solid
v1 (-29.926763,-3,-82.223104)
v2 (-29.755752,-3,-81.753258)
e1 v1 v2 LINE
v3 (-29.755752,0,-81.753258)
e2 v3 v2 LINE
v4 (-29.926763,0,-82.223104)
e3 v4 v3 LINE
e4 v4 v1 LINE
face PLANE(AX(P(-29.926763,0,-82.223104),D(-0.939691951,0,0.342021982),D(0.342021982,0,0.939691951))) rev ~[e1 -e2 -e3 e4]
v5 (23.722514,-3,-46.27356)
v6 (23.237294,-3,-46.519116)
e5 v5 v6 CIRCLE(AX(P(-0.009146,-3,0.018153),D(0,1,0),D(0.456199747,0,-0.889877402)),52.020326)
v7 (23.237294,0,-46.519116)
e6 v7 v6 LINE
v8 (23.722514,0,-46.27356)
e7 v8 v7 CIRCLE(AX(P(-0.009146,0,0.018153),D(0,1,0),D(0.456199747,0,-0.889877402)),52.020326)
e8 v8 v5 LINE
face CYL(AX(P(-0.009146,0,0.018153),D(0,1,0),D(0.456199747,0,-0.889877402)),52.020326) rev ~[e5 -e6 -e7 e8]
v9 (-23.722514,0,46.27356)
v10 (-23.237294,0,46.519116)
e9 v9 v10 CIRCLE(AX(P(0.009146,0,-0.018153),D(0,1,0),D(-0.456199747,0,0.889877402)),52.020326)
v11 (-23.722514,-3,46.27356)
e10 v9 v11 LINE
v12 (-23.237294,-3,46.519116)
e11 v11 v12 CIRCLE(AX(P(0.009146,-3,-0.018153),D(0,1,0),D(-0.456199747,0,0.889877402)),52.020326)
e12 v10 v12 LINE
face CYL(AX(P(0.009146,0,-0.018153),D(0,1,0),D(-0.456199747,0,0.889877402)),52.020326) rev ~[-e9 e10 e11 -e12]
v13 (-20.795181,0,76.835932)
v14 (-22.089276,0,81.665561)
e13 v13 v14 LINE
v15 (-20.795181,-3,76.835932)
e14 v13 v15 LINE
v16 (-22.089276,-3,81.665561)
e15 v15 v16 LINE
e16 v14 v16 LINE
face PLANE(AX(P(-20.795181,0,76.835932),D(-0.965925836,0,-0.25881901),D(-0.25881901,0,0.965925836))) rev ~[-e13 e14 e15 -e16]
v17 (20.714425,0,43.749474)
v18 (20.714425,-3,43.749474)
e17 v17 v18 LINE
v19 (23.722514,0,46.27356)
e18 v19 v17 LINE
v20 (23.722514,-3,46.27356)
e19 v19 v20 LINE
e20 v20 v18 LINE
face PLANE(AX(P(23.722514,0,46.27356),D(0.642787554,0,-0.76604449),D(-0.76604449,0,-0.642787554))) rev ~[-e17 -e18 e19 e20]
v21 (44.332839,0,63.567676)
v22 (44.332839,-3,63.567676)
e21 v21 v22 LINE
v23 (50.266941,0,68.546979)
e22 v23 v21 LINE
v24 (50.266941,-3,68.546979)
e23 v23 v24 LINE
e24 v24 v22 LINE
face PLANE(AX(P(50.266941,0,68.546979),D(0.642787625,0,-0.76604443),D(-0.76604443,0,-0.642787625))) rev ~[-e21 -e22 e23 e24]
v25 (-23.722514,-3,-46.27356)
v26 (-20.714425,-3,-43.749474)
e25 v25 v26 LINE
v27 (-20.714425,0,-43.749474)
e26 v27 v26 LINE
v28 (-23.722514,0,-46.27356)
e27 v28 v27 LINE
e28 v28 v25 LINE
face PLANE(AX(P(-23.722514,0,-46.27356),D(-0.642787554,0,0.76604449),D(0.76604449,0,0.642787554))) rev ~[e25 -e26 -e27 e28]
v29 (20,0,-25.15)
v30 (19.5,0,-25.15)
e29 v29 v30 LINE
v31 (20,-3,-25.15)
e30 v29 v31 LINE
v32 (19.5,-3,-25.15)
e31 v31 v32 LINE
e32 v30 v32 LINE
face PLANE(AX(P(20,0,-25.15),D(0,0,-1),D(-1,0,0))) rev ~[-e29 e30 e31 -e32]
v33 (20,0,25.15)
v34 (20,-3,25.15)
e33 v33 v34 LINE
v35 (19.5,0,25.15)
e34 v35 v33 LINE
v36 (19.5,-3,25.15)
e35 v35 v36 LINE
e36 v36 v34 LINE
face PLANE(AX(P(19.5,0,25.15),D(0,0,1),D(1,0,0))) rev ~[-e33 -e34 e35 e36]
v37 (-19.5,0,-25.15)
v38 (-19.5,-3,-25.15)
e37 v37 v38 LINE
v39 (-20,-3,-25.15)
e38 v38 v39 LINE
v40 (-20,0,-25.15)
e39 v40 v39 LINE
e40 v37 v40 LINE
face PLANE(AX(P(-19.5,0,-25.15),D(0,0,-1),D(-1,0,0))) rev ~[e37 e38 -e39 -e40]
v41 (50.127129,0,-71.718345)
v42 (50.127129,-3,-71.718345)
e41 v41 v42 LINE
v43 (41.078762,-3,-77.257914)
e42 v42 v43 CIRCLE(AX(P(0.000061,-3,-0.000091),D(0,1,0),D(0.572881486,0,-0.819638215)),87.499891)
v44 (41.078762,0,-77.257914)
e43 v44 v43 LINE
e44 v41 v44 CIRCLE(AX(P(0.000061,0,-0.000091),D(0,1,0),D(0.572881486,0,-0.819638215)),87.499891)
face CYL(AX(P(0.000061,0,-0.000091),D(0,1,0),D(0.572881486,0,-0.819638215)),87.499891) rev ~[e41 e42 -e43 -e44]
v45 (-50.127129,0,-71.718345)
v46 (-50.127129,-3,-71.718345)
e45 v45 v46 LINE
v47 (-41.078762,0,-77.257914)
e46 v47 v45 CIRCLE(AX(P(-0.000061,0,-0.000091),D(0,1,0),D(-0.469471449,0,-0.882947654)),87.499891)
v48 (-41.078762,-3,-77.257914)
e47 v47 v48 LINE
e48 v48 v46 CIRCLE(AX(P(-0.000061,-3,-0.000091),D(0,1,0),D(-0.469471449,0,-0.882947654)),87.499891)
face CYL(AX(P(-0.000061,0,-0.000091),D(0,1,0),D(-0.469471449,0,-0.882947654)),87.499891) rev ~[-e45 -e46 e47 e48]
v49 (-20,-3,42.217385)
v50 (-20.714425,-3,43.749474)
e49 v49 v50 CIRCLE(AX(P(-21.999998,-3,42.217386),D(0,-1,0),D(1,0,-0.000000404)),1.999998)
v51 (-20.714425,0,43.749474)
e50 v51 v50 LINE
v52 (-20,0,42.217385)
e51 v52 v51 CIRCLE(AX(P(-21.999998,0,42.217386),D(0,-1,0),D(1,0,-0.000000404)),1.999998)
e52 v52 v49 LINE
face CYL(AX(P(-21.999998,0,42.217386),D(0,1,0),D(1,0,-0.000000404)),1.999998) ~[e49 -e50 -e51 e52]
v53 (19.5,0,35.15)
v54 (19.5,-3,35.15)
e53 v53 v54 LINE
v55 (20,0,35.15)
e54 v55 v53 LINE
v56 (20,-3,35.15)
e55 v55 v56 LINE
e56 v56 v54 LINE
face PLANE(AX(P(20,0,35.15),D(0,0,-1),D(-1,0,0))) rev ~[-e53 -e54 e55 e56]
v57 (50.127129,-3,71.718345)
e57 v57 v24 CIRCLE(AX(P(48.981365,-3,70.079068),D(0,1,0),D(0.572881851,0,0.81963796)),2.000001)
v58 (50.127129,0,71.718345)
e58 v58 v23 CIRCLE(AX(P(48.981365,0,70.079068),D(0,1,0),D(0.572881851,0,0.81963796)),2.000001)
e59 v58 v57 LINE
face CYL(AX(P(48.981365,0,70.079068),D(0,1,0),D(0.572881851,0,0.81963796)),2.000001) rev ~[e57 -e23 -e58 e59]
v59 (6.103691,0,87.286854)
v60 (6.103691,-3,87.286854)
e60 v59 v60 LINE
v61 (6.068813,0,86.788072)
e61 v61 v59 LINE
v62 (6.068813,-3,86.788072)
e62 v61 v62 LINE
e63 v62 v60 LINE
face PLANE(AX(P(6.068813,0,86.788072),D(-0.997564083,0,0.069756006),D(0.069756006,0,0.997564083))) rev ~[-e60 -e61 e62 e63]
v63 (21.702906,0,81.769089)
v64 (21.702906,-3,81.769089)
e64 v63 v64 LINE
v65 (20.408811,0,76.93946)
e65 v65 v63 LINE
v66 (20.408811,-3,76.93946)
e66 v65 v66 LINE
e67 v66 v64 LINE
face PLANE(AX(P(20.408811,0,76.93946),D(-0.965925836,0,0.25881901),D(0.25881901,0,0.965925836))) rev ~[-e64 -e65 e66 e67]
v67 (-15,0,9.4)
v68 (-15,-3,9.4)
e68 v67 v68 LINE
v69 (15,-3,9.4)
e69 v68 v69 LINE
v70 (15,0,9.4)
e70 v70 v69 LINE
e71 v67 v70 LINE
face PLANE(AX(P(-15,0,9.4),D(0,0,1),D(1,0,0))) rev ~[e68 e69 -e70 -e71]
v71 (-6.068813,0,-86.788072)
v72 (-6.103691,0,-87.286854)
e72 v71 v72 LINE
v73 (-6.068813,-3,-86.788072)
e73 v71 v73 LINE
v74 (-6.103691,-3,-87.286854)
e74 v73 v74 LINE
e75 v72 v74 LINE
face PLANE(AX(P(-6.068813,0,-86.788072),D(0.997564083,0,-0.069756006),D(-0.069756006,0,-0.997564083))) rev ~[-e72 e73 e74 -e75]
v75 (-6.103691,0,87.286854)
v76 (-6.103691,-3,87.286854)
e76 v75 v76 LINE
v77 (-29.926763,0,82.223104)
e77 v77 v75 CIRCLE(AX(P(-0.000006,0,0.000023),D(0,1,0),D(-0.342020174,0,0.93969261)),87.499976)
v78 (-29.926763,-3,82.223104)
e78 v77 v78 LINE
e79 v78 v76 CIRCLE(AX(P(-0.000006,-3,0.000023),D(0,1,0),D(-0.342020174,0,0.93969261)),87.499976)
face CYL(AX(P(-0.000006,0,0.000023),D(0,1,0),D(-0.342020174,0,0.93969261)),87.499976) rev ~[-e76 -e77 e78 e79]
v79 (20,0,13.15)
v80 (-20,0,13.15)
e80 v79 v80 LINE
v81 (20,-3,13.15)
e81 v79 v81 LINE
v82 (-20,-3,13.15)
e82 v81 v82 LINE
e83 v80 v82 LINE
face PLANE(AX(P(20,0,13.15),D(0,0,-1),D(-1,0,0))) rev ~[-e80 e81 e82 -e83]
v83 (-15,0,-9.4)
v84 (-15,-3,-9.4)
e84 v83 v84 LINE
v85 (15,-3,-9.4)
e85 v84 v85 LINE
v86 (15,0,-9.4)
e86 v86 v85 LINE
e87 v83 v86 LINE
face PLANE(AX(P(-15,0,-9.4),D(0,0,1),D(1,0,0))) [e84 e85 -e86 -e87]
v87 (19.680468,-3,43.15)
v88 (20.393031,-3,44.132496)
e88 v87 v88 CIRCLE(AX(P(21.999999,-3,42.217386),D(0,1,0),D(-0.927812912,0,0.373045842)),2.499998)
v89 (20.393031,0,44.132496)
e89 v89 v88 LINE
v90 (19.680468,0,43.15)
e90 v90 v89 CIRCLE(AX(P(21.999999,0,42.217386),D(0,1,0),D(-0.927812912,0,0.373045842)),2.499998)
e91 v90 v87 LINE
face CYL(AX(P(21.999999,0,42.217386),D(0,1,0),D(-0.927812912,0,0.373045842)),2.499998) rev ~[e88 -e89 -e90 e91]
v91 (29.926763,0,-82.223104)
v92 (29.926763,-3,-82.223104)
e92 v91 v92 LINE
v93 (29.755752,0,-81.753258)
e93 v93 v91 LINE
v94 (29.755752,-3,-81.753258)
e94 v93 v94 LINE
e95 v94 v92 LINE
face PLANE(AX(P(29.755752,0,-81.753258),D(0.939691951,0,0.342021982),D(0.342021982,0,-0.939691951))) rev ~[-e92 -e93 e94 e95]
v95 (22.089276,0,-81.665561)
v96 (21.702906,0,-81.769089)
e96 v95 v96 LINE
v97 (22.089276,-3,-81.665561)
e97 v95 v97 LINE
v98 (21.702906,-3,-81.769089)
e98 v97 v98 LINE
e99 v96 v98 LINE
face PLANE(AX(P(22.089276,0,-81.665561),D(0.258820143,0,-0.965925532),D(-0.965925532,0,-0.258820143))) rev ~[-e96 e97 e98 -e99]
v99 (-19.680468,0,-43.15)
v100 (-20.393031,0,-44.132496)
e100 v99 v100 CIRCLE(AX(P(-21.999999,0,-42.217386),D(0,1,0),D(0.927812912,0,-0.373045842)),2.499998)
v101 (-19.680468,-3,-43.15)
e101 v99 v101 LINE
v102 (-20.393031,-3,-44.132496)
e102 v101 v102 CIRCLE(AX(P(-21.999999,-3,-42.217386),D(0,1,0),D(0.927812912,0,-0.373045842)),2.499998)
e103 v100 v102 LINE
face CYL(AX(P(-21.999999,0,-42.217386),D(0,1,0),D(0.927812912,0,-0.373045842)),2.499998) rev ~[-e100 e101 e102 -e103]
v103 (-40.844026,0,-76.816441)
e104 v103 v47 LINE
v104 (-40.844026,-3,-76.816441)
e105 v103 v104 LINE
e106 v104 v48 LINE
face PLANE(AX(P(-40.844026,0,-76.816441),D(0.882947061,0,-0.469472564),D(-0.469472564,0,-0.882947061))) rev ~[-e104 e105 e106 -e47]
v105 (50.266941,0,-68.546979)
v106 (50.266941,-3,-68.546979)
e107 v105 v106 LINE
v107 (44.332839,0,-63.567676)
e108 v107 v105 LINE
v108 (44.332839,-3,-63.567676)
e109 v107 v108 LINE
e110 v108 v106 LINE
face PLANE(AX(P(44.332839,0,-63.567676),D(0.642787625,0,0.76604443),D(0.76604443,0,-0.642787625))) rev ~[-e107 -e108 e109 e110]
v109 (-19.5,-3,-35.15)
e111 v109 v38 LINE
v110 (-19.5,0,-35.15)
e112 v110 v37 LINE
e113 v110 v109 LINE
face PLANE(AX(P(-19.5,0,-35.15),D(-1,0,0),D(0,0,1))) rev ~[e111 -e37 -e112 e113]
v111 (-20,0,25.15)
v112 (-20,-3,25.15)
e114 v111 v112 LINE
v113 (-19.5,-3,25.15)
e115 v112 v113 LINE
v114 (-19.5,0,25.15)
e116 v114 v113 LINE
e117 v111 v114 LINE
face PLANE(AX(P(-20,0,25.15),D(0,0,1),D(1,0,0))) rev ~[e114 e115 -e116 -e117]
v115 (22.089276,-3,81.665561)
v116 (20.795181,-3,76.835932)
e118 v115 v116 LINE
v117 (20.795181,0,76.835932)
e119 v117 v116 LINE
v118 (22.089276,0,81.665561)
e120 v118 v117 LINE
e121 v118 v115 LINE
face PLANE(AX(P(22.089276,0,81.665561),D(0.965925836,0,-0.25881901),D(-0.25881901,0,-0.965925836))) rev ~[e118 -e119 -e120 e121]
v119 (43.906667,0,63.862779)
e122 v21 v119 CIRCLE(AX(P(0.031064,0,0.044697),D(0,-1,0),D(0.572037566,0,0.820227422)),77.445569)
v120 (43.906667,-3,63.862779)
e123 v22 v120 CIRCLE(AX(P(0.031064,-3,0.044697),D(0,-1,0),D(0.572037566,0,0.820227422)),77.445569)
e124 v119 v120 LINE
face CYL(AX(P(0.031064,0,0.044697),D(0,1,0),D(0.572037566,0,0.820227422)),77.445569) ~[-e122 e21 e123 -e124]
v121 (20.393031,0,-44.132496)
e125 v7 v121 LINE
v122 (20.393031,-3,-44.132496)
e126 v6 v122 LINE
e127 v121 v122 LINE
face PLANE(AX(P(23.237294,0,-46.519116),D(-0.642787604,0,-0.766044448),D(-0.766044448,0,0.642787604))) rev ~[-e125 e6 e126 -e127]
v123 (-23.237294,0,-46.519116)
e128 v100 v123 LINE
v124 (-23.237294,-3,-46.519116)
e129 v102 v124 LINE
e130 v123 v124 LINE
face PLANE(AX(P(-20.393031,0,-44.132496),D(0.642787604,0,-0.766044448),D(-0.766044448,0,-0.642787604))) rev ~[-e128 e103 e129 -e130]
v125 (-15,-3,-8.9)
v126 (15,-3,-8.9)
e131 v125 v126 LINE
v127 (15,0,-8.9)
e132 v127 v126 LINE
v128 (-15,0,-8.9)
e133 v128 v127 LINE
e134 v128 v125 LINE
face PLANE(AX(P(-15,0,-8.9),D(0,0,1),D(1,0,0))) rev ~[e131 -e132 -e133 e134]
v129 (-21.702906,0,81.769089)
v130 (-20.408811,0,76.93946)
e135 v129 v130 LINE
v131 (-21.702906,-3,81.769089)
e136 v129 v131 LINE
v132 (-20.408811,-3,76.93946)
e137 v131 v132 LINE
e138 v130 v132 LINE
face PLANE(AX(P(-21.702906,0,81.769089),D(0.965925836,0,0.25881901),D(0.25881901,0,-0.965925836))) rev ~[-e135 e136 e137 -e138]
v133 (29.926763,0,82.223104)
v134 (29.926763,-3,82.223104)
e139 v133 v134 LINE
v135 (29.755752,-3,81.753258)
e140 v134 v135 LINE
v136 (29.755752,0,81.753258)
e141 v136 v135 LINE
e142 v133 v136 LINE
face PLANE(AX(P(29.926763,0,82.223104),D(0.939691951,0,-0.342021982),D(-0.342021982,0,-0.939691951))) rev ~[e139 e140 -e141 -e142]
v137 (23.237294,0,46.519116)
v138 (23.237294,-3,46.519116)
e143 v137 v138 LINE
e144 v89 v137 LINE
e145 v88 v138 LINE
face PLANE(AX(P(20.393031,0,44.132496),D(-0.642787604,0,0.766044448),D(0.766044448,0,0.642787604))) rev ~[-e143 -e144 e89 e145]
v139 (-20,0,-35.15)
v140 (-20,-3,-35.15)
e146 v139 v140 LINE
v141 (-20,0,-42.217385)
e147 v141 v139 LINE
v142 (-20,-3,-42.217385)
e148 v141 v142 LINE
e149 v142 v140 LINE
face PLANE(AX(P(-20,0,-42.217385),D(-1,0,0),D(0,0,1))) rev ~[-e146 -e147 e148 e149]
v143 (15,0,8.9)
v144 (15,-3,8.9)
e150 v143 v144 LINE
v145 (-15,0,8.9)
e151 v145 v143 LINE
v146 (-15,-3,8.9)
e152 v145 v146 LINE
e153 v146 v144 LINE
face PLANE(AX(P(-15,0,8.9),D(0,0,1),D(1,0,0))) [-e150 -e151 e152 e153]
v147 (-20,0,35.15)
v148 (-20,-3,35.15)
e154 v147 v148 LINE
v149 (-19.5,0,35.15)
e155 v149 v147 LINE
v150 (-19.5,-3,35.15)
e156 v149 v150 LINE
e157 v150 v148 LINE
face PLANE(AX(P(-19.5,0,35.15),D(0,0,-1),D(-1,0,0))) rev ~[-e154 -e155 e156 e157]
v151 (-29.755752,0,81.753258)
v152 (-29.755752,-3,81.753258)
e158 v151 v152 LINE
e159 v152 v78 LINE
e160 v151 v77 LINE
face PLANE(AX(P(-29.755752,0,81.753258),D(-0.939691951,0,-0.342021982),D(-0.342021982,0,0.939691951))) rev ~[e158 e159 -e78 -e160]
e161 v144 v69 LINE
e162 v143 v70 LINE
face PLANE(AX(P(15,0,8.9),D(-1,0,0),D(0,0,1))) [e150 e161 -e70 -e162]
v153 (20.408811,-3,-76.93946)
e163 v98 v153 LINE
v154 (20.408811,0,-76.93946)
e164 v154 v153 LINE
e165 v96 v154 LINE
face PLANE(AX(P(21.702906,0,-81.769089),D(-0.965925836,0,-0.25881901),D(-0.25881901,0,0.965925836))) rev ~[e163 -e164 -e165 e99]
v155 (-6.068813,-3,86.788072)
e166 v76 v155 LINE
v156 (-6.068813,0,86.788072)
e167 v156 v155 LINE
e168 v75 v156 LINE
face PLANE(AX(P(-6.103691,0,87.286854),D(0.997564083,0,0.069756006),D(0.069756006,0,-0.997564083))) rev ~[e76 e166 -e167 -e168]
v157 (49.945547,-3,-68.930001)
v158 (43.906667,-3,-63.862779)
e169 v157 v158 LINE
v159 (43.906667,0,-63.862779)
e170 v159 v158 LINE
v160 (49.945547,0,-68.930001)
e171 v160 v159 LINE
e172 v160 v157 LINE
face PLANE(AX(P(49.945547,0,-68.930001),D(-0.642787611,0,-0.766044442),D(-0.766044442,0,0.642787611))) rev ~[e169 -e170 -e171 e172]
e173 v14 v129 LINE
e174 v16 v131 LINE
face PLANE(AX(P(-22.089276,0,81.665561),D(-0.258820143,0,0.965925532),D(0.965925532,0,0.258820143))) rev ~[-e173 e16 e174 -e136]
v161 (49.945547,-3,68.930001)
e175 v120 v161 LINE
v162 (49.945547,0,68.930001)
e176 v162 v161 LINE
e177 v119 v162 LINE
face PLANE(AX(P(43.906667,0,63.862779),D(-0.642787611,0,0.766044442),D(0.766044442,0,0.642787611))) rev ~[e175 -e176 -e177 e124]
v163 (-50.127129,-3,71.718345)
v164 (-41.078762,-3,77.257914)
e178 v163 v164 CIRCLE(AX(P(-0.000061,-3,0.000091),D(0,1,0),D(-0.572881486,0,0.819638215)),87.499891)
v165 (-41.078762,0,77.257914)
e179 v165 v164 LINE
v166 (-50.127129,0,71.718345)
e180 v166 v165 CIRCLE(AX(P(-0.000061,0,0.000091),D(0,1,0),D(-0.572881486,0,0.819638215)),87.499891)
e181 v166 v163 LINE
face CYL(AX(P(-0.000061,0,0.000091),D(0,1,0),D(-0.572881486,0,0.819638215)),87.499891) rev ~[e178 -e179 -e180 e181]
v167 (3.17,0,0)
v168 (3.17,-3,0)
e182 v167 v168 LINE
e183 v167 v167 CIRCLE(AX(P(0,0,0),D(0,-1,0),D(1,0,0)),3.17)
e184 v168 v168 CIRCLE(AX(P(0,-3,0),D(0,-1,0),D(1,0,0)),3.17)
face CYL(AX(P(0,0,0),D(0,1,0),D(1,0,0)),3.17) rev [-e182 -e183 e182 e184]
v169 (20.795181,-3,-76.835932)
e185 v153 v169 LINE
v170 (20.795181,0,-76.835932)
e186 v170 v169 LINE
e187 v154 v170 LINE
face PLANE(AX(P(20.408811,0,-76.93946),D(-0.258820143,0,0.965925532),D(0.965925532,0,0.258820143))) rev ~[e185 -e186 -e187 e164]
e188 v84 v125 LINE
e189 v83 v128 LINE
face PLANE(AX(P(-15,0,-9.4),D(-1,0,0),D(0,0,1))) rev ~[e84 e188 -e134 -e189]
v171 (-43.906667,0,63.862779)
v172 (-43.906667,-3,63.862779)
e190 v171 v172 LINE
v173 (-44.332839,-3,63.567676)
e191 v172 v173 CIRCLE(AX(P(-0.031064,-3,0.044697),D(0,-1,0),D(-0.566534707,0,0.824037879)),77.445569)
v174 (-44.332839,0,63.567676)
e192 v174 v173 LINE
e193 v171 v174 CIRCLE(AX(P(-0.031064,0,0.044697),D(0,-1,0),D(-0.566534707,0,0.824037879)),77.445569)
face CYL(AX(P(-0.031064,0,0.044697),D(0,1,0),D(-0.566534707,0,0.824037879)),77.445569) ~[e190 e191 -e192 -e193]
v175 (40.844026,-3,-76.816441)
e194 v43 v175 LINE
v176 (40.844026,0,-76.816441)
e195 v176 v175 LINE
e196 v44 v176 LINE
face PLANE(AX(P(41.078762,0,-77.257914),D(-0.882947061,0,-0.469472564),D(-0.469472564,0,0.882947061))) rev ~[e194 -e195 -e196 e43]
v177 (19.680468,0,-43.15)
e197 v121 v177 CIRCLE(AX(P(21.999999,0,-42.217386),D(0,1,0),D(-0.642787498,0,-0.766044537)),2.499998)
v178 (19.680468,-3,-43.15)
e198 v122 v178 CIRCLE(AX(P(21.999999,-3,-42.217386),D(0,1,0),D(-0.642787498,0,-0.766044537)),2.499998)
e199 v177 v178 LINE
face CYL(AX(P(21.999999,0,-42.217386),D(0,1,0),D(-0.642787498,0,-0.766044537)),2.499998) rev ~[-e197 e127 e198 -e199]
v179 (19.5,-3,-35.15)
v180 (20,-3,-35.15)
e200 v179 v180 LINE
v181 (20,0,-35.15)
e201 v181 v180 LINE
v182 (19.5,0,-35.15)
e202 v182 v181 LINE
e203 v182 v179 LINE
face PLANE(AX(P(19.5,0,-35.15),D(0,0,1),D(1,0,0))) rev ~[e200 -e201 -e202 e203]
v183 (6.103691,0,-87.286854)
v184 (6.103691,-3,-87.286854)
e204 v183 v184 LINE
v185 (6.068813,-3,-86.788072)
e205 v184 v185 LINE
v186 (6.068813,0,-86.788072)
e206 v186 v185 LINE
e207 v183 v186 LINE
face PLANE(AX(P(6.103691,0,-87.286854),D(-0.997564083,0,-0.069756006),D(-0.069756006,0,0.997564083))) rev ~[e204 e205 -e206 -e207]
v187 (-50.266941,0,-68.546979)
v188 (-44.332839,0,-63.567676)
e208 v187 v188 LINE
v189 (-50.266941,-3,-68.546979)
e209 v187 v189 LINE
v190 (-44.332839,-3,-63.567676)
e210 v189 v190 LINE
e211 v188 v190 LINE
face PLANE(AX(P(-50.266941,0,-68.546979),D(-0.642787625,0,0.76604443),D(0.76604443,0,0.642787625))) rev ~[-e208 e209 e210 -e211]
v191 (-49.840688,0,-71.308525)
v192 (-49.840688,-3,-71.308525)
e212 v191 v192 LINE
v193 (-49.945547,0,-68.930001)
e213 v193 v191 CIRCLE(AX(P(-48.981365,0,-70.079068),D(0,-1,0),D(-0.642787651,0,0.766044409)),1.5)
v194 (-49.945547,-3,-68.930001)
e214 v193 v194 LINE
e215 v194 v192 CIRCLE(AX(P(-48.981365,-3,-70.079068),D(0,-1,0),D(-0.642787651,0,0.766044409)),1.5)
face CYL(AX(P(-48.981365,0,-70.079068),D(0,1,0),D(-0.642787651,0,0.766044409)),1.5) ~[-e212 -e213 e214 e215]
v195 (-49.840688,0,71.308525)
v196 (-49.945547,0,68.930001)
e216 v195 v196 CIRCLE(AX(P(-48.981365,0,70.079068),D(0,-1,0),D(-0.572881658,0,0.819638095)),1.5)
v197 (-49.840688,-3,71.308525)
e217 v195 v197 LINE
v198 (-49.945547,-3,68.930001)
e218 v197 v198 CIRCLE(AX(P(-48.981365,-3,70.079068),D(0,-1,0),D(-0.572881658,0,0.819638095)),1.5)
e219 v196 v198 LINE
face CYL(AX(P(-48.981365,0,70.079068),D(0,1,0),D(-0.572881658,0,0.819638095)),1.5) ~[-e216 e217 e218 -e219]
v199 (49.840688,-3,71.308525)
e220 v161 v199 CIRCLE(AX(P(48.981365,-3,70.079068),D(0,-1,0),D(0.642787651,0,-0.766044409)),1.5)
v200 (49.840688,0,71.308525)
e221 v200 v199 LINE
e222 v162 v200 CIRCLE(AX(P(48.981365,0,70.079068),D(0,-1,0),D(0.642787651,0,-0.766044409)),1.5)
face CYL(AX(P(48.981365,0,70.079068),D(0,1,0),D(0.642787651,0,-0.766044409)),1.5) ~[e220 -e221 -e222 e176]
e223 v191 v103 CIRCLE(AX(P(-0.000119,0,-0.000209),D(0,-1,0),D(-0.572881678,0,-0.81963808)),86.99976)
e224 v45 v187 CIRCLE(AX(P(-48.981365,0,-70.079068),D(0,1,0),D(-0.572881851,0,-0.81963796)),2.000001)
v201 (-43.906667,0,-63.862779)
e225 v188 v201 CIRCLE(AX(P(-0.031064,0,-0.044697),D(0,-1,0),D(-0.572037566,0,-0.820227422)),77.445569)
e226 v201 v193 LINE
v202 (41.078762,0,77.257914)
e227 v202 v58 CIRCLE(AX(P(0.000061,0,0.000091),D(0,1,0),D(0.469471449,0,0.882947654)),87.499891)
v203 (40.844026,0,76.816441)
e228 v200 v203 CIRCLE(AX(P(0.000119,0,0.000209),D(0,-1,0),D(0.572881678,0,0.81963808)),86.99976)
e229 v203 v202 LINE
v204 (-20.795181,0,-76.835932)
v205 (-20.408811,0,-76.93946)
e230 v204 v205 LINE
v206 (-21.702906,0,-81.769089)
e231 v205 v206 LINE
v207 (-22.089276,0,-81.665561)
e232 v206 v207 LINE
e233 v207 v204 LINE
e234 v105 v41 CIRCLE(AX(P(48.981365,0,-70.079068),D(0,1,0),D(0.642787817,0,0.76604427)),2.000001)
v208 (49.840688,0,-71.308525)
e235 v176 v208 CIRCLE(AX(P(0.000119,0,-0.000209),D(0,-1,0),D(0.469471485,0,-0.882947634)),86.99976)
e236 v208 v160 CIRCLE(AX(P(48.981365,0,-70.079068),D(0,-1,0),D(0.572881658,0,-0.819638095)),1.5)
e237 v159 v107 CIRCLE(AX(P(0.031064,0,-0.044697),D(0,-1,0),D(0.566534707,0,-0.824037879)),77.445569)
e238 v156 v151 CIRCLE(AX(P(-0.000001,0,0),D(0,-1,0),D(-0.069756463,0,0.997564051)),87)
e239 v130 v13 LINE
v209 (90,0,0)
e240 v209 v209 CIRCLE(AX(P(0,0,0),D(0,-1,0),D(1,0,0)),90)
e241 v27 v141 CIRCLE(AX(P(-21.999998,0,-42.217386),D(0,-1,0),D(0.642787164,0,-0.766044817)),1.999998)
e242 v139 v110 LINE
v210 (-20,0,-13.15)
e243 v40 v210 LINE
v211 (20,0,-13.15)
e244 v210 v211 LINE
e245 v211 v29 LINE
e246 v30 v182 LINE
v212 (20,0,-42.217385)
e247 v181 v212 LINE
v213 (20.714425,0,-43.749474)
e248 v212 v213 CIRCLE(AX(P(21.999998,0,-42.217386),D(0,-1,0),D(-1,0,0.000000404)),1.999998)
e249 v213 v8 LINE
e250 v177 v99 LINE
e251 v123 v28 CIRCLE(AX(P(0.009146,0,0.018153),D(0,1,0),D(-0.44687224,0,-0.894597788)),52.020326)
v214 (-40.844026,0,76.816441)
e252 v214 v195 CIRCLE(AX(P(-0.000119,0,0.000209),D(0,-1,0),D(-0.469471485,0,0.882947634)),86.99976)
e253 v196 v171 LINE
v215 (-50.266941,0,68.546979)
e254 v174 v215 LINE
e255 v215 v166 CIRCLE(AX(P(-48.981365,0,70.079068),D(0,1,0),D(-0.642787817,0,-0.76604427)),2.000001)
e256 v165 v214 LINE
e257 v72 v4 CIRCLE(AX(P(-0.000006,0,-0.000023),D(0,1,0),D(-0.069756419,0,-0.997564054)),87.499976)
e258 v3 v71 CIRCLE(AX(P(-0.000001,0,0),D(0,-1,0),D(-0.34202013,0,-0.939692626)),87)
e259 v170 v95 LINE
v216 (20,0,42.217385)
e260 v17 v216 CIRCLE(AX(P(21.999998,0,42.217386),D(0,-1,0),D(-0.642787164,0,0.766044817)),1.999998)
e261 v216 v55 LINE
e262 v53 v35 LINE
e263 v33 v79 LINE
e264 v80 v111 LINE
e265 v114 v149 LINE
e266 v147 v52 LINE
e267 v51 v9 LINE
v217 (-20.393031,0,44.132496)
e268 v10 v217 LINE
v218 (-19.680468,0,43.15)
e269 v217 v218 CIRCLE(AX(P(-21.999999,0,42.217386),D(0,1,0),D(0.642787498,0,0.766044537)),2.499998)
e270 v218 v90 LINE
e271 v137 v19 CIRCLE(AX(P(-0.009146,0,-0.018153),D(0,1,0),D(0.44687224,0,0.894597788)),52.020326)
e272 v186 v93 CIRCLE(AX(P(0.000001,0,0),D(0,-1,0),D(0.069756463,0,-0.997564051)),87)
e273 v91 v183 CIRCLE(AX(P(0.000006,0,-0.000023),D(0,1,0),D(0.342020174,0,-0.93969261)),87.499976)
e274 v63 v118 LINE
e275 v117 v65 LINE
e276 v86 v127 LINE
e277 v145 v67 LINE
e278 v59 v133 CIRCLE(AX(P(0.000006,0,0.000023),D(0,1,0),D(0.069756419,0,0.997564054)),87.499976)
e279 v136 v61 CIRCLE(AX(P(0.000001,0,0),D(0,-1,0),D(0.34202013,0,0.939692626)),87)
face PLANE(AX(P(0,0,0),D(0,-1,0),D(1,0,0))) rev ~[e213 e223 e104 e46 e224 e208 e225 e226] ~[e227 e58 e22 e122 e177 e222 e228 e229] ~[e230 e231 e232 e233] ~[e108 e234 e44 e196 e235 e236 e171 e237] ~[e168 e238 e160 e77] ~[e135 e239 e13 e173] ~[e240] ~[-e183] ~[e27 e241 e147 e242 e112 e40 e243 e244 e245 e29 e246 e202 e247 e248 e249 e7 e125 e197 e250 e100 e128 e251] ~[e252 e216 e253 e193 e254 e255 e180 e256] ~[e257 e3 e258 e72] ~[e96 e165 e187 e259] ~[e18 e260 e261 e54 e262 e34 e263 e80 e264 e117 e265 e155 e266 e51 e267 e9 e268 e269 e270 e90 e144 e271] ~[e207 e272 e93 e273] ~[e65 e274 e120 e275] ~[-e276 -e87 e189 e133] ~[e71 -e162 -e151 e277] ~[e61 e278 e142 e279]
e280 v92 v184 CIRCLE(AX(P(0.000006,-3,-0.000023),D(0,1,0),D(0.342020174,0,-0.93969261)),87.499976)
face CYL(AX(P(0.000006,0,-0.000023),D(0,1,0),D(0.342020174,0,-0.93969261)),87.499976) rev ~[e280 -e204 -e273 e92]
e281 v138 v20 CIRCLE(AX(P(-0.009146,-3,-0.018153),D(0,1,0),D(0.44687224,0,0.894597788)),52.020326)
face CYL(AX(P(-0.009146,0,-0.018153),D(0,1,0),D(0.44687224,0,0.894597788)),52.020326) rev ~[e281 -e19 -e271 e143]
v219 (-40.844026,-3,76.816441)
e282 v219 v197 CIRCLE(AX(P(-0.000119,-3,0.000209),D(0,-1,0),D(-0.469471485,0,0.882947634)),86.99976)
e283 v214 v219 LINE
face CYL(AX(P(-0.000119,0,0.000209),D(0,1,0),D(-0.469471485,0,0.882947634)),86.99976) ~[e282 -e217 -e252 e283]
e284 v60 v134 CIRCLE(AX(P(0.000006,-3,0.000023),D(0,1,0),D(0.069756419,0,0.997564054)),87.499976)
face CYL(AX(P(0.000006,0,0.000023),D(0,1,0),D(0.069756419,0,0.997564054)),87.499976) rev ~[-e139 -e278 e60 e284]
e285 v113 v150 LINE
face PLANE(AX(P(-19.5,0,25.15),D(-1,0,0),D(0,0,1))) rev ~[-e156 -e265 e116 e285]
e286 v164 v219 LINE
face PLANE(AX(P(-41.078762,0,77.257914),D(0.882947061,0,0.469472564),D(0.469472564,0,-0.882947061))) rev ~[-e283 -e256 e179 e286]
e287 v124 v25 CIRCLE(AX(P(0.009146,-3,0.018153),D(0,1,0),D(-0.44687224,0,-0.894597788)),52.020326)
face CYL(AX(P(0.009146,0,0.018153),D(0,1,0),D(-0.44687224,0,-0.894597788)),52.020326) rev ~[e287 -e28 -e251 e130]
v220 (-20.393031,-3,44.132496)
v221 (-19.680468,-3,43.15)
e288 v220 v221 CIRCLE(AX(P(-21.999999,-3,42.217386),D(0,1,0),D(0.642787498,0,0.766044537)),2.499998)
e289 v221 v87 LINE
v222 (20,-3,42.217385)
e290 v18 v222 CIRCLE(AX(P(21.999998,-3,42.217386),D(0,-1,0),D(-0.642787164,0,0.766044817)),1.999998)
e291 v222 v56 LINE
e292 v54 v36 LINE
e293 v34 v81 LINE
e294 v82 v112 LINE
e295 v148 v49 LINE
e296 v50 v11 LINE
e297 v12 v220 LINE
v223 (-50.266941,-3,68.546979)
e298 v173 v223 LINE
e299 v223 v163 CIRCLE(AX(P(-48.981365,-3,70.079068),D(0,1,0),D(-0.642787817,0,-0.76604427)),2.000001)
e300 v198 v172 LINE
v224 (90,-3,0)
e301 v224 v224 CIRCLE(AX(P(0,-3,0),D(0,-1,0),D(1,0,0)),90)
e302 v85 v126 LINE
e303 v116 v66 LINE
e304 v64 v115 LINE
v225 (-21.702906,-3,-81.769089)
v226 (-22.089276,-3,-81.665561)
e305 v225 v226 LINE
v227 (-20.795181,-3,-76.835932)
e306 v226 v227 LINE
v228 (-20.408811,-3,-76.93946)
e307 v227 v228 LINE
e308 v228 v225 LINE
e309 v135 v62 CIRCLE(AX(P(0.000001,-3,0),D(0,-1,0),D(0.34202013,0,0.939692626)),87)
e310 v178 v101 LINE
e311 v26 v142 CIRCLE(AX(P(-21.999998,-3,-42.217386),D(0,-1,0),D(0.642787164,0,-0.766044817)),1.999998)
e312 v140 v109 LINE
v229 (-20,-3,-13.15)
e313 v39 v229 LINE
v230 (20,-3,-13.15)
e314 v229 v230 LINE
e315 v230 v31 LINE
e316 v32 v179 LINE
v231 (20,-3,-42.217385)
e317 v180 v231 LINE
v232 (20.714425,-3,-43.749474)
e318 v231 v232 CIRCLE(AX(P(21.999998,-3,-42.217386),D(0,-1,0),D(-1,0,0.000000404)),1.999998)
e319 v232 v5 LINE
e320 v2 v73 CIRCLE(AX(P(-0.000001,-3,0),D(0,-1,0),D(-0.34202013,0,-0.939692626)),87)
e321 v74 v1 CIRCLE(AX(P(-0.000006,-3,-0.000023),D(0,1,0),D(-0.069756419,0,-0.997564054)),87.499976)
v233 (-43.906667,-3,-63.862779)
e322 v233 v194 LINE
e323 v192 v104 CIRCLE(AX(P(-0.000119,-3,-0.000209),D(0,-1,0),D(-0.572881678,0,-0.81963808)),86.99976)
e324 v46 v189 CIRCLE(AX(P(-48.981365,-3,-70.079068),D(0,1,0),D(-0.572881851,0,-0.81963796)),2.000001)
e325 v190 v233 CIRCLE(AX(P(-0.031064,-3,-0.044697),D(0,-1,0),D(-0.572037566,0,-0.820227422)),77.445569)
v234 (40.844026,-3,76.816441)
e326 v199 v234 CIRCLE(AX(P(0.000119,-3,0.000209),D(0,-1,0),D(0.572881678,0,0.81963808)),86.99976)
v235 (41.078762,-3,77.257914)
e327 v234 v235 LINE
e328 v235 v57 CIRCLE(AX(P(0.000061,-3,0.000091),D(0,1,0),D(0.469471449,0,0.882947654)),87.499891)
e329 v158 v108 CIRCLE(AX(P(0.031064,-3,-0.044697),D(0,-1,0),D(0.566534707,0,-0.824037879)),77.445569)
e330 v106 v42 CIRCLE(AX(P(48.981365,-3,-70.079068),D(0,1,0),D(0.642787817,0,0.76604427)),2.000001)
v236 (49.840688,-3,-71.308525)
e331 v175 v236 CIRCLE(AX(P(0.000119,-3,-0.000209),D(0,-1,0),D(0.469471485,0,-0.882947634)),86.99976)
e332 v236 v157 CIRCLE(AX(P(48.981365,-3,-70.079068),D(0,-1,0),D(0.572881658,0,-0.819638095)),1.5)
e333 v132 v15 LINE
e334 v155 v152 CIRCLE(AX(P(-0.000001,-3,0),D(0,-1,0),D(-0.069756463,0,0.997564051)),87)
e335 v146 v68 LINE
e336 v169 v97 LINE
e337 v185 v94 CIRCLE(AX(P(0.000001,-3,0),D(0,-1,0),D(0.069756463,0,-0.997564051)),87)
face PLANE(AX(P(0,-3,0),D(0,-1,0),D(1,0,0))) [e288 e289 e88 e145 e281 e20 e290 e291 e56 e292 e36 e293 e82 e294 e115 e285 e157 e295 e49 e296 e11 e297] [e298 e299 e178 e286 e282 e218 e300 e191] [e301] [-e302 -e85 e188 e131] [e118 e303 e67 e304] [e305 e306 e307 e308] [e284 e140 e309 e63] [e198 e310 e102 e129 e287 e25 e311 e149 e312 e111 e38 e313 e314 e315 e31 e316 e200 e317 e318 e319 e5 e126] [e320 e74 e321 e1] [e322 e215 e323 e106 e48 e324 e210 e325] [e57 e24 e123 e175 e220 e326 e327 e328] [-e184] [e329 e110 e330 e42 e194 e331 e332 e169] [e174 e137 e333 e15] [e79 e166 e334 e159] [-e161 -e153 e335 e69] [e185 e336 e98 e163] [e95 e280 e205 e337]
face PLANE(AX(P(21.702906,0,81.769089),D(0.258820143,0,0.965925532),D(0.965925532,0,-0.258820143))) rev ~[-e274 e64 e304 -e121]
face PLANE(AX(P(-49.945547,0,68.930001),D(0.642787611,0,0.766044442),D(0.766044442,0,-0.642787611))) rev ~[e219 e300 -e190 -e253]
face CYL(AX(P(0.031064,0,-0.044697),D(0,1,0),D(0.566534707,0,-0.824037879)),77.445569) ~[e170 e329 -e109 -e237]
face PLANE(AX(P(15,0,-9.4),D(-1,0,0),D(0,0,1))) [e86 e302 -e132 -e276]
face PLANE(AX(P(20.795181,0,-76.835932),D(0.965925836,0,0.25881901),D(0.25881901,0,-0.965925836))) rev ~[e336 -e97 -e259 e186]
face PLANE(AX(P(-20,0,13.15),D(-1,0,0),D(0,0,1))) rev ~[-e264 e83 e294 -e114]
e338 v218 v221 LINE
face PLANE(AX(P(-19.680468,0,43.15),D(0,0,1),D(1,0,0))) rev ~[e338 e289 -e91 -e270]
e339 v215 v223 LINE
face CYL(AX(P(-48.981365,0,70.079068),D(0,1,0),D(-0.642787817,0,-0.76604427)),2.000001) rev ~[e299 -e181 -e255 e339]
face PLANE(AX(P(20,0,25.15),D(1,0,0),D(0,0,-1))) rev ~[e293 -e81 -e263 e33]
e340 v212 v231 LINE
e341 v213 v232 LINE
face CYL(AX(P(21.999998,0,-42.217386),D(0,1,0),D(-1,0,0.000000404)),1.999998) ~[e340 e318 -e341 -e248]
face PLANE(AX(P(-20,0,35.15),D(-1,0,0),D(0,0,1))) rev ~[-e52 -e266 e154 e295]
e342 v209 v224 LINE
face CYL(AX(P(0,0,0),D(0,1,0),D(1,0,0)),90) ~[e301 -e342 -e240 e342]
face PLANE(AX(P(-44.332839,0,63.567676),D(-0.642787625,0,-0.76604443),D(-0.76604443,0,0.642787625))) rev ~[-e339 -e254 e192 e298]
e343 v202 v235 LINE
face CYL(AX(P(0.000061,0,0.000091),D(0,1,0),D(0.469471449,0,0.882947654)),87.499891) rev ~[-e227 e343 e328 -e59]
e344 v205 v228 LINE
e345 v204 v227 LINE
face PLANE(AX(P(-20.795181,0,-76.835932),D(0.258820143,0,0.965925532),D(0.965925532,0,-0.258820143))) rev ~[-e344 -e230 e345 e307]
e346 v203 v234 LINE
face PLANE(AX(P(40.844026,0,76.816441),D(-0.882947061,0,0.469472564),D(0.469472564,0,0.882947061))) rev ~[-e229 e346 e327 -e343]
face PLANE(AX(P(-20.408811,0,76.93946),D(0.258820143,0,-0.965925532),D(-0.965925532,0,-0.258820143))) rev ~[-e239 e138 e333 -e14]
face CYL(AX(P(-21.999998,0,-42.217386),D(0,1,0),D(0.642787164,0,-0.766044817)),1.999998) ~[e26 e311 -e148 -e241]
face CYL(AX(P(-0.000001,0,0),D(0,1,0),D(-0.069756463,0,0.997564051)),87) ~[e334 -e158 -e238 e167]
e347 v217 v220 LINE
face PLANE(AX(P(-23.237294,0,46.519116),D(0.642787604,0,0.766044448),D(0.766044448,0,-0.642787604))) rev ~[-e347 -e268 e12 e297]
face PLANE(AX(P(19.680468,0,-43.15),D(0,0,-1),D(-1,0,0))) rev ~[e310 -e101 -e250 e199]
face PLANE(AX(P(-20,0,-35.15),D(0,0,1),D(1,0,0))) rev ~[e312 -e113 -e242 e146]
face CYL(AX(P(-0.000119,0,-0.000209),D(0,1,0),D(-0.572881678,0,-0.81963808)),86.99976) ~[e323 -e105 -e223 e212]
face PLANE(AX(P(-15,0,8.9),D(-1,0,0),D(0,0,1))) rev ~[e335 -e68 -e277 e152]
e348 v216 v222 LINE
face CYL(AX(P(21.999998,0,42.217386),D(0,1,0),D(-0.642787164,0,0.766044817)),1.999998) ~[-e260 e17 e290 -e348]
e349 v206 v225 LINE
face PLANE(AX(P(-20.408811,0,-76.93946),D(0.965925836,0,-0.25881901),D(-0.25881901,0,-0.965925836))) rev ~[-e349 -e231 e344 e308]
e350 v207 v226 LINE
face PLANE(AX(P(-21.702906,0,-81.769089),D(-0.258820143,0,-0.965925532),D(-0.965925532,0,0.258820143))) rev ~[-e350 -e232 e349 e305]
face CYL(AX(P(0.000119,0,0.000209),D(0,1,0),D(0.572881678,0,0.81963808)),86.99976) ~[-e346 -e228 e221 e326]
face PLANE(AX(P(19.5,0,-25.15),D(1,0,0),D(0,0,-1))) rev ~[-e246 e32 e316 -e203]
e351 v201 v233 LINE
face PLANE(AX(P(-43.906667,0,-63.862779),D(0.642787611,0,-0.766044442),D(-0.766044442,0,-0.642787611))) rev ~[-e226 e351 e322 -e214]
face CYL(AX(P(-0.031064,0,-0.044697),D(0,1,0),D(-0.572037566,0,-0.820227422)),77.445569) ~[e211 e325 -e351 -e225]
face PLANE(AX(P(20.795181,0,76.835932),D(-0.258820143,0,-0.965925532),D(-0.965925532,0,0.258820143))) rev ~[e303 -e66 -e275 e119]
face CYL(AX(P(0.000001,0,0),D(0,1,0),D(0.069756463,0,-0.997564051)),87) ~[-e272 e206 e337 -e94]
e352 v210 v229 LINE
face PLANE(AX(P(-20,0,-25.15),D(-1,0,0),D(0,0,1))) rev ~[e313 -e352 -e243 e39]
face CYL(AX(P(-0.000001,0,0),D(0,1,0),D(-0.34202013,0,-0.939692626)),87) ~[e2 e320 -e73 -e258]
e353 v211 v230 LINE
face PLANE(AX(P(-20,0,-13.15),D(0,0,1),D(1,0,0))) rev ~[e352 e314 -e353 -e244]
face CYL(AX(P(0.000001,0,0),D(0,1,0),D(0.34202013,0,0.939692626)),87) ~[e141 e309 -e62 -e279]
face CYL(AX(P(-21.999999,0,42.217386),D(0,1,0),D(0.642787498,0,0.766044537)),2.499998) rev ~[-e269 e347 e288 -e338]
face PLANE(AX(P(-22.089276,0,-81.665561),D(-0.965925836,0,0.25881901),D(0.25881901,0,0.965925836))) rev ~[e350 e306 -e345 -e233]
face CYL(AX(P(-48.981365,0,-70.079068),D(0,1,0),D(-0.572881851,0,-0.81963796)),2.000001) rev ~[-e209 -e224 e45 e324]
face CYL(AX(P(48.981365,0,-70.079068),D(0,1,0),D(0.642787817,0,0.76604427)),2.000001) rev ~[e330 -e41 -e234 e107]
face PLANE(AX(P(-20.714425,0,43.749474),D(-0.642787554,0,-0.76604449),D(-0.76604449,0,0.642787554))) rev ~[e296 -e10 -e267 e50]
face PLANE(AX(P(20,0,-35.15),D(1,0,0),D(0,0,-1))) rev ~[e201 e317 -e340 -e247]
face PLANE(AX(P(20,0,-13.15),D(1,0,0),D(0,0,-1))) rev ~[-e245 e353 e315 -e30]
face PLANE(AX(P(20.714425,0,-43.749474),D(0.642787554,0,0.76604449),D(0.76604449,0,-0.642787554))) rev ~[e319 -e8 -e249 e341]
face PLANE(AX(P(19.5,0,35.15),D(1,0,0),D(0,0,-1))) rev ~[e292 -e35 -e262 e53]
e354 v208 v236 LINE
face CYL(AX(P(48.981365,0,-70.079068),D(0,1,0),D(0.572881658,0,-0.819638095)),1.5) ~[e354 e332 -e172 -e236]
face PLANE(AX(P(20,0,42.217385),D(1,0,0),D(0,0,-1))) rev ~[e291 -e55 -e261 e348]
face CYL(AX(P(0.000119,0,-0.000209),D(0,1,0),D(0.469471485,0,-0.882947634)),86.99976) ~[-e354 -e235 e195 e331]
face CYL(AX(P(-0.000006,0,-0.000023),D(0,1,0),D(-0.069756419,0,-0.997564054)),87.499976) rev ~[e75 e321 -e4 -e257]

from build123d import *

# Parameters (mm, degrees)
F0_R     = 90
F0_W     = 30
F0_H     = 0.5
F0_R_2   = 3.17
F1_DEPTH = 3


with BuildPart() as f1:
    # F0 (on Front) → F1 (new body)
    with BuildSketch(Plane.XZ):
        Circle(F0_R)
        with BuildLine():
            ThreePointArc((-41.078762, -77.257914), (-45.686982, -74.625396), (-50.127129, -71.718345))
            ThreePointArc((-50.127129, -71.718345), (-50.979425, -70.167154), (-50.266941, -68.546979))
            Line((-50.266941, -68.546979), (-44.332839, -63.567676))
            ThreePointArc((-44.332839, -63.567676), (-44.12, -63.715584), (-43.906667, -63.862779))
            Line((-43.906667, -63.862779), (-49.945547, -68.930001))
            ThreePointArc((-49.945547, -68.930001), (-50.47991, -70.145133), (-49.840688, -71.308525))
            ThreePointArc((-49.840688, -71.308525), (-45.425914, -74.198965), (-40.844026, -76.816441))
            Line((-40.844026, -76.816441), (-41.078762, -77.257914))
        make_face(mode=Mode.SUBTRACT)
        with BuildLine():
            Line((-29.926763, -82.223104), (-29.755752, -81.753258))
            ThreePointArc((-29.755752, -81.753258), (-18.088317, -85.098841), (-6.068813, -86.788072))
            Line((-6.068813, -86.788072), (-6.103691, -87.286854))
            ThreePointArc((-6.103691, -87.286854), (-18.192273, -85.587915), (-29.926763, -82.223104))
        make_face(mode=Mode.SUBTRACT)
        Polygon((-20.795181, -76.835932), (-20.408811, -76.93946), (-21.702906, -81.769089), (-22.089276, -81.665561), align=None, mode=Mode.SUBTRACT)
        with BuildLine():
            Line((6.103691, -87.286854), (6.068813, -86.788072))
            ThreePointArc((6.068813, -86.788072), (18.088317, -85.098841), (29.755752, -81.753258))
            Line((29.755752, -81.753258), (29.926763, -82.223104))
            ThreePointArc((29.926763, -82.223104), (18.192273, -85.587915), (6.103691, -87.286854))
        make_face(mode=Mode.SUBTRACT)
        Polygon((22.089276, -81.665561), (21.702906, -81.769089), (20.408811, -76.93946), (20.795181, -76.835932), align=None, mode=Mode.SUBTRACT)
        with BuildLine():
            ThreePointArc((50.266941, -68.546979), (50.979425, -70.167154), (50.127129, -71.718345))
            ThreePointArc((50.127129, -71.718345), (45.686982, -74.625396), (41.078762, -77.257914))
            Line((41.078762, -77.257914), (40.844026, -76.816441))
            ThreePointArc((40.844026, -76.816441), (45.425914, -74.198965), (49.840688, -71.308525))
            ThreePointArc((49.840688, -71.308525), (50.47991, -70.145133), (49.945547, -68.930001))
            Line((49.945547, -68.930001), (43.906667, -63.862779))
            ThreePointArc((43.906667, -63.862779), (44.12, -63.715584), (44.332839, -63.567676))
            Line((44.332839, -63.567676), (50.266941, -68.546979))
        make_face(mode=Mode.SUBTRACT)
        with BuildLine():
            Line((-23.722514, -46.27356), (-20.714425, -43.749474))
            ThreePointArc((-20.714425, -43.749474), (-20.187384, -43.062621), (-20, -42.217385))
            Line((-20, -42.217385), (-20, -35.15))
            Line((-20, -35.15), (-19.5, -35.15))
            Line((-19.5, -35.15), (-19.5, -25.15))
            Line((-19.5, -25.15), (-20, -25.15))
            Line((-20, -25.15), (-20, -15.15))
            Line((-20, -15.15), (-20, -13.15))
            Line((-20, -13.15), (-18, -13.15))
            Line((-18, -13.15), (-7.5, -13.15))
            Line((-7.5, -13.15), (7.5, -13.15))
            Line((7.5, -13.15), (18, -13.15))
            Line((18, -13.15), (20, -13.15))
            Line((20, -13.15), (20, -15.15))
            Line((20, -15.15), (20, -25.15))
            Line((20, -25.15), (19.5, -25.15))
            Line((19.5, -25.15), (19.5, -35.15))
            Line((19.5, -35.15), (20, -35.15))
            Line((20, -35.15), (20, -42.217385))
            ThreePointArc((20, -42.217385), (20.187384, -43.062621), (20.714425, -43.749474))
            Line((20.714425, -43.749474), (23.722514, -46.27356))
            ThreePointArc((23.722514, -46.27356), (23.480225, -46.396972), (23.237294, -46.519116))
            Line((23.237294, -46.519116), (20.393031, -44.132496))
            ThreePointArc((20.393031, -44.132496), (19.976222, -43.685146), (19.680468, -43.15))
            Line((19.680468, -43.15), (-19.680468, -43.15))
            ThreePointArc((-19.680468, -43.15), (-19.976222, -43.685146), (-20.393031, -44.132496))
            Line((-20.393031, -44.132496), (-23.237294, -46.519116))
            ThreePointArc((-23.237294, -46.519116), (-23.480225, -46.396972), (-23.722514, -46.27356))
        make_face(mode=Mode.SUBTRACT)
        with Locations((0, -9.15)):
            Rectangle(F0_W, F0_H, mode=Mode.SUBTRACT)
        with BuildLine():
            Line((-49.945547, 68.930001), (-43.906667, 63.862779))
            ThreePointArc((-43.906667, 63.862779), (-44.12, 63.715584), (-44.332839, 63.567676))
            Line((-44.332839, 63.567676), (-50.266941, 68.546979))
            ThreePointArc((-50.266941, 68.546979), (-50.979425, 70.167154), (-50.127129, 71.718345))
            ThreePointArc((-50.127129, 71.718345), (-45.686982, 74.625396), (-41.078762, 77.257914))
            Line((-41.078762, 77.257914), (-40.844026, 76.816441))
            ThreePointArc((-40.844026, 76.816441), (-45.425914, 74.198965), (-49.840688, 71.308525))
            ThreePointArc((-49.840688, 71.308525), (-50.47991, 70.145133), (-49.945547, 68.930001))
        make_face(mode=Mode.SUBTRACT)
        Polygon((-22.089276, 81.665561), (-21.702906, 81.769089), (-20.408811, 76.93946), (-20.795181, 76.835932), align=None, mode=Mode.SUBTRACT)
        with BuildLine():
            ThreePointArc((-6.068813, 86.788072), (-18.088317, 85.098841), (-29.755752, 81.753258))
            Line((-29.755752, 81.753258), (-29.926763, 82.223104))
            ThreePointArc((-29.926763, 82.223104), (-18.192273, 85.587915), (-6.103691, 87.286854))
            Line((-6.103691, 87.286854), (-6.068813, 86.788072))
        make_face(mode=Mode.SUBTRACT)
        Circle(F0_R_2, mode=Mode.SUBTRACT)
        with Locations((0, 9.15)):
            Rectangle(F0_W, F0_H, mode=Mode.SUBTRACT)
        with BuildLine():
            ThreePointArc((19.680468, 43.15), (19.976222, 43.685146), (20.393031, 44.132496))
            Line((20.393031, 44.132496), (23.237294, 46.519116))
            ThreePointArc((23.237294, 46.519116), (23.480225, 46.396972), (23.722514, 46.27356))
            Line((23.722514, 46.27356), (20.714425, 43.749474))
            ThreePointArc((20.714425, 43.749474), (20.187384, 43.062621), (20, 42.217385))
            Line((20, 42.217385), (20, 35.15))
            Line((20, 35.15), (19.5, 35.15))
            Line((19.5, 35.15), (19.5, 25.15))
            Line((19.5, 25.15), (20, 25.15))
            Line((20, 25.15), (20, 15.15))
            Line((20, 15.15), (20, 13.15))
            Line((20, 13.15), (18, 13.15))
            Line((18, 13.15), (7.5, 13.15))
            Line((7.5, 13.15), (-7.5, 13.15))
            Line((-7.5, 13.15), (-18, 13.15))
            Line((-18, 13.15), (-20, 13.15))
            Line((-20, 13.15), (-20, 15.15))
            Line((-20, 15.15), (-20, 25.15))
            Line((-20, 25.15), (-19.5, 25.15))
            Line((-19.5, 25.15), (-19.5, 35.15))
            Line((-19.5, 35.15), (-20, 35.15))
            Line((-20, 35.15), (-20, 42.217385))
            ThreePointArc((-20, 42.217385), (-20.187384, 43.062621), (-20.714425, 43.749474))
            Line((-20.714425, 43.749474), (-23.722514, 46.27356))
            ThreePointArc((-23.722514, 46.27356), (-23.480225, 46.396972), (-23.237294, 46.519116))
            Line((-23.237294, 46.519116), (-20.393031, 44.132496))
            ThreePointArc((-20.393031, 44.132496), (-19.976222, 43.685146), (-19.680468, 43.15))
            Line((-19.680468, 43.15), (19.680468, 43.15))
        make_face(mode=Mode.SUBTRACT)
        Polygon((20.795181, 76.835932), (20.408811, 76.93946), (21.702906, 81.769089), (22.089276, 81.665561), align=None, mode=Mode.SUBTRACT)
        with BuildLine():
            Line((29.926763, 82.223104), (29.755752, 81.753258))
            ThreePointArc((29.755752, 81.753258), (18.088317, 85.098841), (6.068813, 86.788072))
            Line((6.068813, 86.788072), (6.103691, 87.286854))
            ThreePointArc((6.103691, 87.286854), (18.192273, 85.587915), (29.926763, 82.223104))
        make_face(mode=Mode.SUBTRACT)
        with BuildLine():
            ThreePointArc((44.332839, 63.567676), (44.12, 63.715584), (43.906667, 63.862779))
            Line((43.906667, 63.862779), (49.945547, 68.930001))
            ThreePointArc((49.945547, 68.930001), (50.47991, 70.145133), (49.840688, 71.308525))
            ThreePointArc((49.840688, 71.308525), (45.425914, 74.198965), (40.844026, 76.816441))
            Line((40.844026, 76.816441), (41.078762, 77.257914))
            ThreePointArc((41.078762, 77.257914), (45.686982, 74.625396), (50.127129, 71.718345))
            ThreePointArc((50.127129, 71.718345), (50.979425, 70.167154), (50.266941, 68.546979))
            Line((50.266941, 68.546979), (44.332839, 63.567676))
        make_face(mode=Mode.SUBTRACT)
    extrude(amount=F1_DEPTH)


solid = f1.part
